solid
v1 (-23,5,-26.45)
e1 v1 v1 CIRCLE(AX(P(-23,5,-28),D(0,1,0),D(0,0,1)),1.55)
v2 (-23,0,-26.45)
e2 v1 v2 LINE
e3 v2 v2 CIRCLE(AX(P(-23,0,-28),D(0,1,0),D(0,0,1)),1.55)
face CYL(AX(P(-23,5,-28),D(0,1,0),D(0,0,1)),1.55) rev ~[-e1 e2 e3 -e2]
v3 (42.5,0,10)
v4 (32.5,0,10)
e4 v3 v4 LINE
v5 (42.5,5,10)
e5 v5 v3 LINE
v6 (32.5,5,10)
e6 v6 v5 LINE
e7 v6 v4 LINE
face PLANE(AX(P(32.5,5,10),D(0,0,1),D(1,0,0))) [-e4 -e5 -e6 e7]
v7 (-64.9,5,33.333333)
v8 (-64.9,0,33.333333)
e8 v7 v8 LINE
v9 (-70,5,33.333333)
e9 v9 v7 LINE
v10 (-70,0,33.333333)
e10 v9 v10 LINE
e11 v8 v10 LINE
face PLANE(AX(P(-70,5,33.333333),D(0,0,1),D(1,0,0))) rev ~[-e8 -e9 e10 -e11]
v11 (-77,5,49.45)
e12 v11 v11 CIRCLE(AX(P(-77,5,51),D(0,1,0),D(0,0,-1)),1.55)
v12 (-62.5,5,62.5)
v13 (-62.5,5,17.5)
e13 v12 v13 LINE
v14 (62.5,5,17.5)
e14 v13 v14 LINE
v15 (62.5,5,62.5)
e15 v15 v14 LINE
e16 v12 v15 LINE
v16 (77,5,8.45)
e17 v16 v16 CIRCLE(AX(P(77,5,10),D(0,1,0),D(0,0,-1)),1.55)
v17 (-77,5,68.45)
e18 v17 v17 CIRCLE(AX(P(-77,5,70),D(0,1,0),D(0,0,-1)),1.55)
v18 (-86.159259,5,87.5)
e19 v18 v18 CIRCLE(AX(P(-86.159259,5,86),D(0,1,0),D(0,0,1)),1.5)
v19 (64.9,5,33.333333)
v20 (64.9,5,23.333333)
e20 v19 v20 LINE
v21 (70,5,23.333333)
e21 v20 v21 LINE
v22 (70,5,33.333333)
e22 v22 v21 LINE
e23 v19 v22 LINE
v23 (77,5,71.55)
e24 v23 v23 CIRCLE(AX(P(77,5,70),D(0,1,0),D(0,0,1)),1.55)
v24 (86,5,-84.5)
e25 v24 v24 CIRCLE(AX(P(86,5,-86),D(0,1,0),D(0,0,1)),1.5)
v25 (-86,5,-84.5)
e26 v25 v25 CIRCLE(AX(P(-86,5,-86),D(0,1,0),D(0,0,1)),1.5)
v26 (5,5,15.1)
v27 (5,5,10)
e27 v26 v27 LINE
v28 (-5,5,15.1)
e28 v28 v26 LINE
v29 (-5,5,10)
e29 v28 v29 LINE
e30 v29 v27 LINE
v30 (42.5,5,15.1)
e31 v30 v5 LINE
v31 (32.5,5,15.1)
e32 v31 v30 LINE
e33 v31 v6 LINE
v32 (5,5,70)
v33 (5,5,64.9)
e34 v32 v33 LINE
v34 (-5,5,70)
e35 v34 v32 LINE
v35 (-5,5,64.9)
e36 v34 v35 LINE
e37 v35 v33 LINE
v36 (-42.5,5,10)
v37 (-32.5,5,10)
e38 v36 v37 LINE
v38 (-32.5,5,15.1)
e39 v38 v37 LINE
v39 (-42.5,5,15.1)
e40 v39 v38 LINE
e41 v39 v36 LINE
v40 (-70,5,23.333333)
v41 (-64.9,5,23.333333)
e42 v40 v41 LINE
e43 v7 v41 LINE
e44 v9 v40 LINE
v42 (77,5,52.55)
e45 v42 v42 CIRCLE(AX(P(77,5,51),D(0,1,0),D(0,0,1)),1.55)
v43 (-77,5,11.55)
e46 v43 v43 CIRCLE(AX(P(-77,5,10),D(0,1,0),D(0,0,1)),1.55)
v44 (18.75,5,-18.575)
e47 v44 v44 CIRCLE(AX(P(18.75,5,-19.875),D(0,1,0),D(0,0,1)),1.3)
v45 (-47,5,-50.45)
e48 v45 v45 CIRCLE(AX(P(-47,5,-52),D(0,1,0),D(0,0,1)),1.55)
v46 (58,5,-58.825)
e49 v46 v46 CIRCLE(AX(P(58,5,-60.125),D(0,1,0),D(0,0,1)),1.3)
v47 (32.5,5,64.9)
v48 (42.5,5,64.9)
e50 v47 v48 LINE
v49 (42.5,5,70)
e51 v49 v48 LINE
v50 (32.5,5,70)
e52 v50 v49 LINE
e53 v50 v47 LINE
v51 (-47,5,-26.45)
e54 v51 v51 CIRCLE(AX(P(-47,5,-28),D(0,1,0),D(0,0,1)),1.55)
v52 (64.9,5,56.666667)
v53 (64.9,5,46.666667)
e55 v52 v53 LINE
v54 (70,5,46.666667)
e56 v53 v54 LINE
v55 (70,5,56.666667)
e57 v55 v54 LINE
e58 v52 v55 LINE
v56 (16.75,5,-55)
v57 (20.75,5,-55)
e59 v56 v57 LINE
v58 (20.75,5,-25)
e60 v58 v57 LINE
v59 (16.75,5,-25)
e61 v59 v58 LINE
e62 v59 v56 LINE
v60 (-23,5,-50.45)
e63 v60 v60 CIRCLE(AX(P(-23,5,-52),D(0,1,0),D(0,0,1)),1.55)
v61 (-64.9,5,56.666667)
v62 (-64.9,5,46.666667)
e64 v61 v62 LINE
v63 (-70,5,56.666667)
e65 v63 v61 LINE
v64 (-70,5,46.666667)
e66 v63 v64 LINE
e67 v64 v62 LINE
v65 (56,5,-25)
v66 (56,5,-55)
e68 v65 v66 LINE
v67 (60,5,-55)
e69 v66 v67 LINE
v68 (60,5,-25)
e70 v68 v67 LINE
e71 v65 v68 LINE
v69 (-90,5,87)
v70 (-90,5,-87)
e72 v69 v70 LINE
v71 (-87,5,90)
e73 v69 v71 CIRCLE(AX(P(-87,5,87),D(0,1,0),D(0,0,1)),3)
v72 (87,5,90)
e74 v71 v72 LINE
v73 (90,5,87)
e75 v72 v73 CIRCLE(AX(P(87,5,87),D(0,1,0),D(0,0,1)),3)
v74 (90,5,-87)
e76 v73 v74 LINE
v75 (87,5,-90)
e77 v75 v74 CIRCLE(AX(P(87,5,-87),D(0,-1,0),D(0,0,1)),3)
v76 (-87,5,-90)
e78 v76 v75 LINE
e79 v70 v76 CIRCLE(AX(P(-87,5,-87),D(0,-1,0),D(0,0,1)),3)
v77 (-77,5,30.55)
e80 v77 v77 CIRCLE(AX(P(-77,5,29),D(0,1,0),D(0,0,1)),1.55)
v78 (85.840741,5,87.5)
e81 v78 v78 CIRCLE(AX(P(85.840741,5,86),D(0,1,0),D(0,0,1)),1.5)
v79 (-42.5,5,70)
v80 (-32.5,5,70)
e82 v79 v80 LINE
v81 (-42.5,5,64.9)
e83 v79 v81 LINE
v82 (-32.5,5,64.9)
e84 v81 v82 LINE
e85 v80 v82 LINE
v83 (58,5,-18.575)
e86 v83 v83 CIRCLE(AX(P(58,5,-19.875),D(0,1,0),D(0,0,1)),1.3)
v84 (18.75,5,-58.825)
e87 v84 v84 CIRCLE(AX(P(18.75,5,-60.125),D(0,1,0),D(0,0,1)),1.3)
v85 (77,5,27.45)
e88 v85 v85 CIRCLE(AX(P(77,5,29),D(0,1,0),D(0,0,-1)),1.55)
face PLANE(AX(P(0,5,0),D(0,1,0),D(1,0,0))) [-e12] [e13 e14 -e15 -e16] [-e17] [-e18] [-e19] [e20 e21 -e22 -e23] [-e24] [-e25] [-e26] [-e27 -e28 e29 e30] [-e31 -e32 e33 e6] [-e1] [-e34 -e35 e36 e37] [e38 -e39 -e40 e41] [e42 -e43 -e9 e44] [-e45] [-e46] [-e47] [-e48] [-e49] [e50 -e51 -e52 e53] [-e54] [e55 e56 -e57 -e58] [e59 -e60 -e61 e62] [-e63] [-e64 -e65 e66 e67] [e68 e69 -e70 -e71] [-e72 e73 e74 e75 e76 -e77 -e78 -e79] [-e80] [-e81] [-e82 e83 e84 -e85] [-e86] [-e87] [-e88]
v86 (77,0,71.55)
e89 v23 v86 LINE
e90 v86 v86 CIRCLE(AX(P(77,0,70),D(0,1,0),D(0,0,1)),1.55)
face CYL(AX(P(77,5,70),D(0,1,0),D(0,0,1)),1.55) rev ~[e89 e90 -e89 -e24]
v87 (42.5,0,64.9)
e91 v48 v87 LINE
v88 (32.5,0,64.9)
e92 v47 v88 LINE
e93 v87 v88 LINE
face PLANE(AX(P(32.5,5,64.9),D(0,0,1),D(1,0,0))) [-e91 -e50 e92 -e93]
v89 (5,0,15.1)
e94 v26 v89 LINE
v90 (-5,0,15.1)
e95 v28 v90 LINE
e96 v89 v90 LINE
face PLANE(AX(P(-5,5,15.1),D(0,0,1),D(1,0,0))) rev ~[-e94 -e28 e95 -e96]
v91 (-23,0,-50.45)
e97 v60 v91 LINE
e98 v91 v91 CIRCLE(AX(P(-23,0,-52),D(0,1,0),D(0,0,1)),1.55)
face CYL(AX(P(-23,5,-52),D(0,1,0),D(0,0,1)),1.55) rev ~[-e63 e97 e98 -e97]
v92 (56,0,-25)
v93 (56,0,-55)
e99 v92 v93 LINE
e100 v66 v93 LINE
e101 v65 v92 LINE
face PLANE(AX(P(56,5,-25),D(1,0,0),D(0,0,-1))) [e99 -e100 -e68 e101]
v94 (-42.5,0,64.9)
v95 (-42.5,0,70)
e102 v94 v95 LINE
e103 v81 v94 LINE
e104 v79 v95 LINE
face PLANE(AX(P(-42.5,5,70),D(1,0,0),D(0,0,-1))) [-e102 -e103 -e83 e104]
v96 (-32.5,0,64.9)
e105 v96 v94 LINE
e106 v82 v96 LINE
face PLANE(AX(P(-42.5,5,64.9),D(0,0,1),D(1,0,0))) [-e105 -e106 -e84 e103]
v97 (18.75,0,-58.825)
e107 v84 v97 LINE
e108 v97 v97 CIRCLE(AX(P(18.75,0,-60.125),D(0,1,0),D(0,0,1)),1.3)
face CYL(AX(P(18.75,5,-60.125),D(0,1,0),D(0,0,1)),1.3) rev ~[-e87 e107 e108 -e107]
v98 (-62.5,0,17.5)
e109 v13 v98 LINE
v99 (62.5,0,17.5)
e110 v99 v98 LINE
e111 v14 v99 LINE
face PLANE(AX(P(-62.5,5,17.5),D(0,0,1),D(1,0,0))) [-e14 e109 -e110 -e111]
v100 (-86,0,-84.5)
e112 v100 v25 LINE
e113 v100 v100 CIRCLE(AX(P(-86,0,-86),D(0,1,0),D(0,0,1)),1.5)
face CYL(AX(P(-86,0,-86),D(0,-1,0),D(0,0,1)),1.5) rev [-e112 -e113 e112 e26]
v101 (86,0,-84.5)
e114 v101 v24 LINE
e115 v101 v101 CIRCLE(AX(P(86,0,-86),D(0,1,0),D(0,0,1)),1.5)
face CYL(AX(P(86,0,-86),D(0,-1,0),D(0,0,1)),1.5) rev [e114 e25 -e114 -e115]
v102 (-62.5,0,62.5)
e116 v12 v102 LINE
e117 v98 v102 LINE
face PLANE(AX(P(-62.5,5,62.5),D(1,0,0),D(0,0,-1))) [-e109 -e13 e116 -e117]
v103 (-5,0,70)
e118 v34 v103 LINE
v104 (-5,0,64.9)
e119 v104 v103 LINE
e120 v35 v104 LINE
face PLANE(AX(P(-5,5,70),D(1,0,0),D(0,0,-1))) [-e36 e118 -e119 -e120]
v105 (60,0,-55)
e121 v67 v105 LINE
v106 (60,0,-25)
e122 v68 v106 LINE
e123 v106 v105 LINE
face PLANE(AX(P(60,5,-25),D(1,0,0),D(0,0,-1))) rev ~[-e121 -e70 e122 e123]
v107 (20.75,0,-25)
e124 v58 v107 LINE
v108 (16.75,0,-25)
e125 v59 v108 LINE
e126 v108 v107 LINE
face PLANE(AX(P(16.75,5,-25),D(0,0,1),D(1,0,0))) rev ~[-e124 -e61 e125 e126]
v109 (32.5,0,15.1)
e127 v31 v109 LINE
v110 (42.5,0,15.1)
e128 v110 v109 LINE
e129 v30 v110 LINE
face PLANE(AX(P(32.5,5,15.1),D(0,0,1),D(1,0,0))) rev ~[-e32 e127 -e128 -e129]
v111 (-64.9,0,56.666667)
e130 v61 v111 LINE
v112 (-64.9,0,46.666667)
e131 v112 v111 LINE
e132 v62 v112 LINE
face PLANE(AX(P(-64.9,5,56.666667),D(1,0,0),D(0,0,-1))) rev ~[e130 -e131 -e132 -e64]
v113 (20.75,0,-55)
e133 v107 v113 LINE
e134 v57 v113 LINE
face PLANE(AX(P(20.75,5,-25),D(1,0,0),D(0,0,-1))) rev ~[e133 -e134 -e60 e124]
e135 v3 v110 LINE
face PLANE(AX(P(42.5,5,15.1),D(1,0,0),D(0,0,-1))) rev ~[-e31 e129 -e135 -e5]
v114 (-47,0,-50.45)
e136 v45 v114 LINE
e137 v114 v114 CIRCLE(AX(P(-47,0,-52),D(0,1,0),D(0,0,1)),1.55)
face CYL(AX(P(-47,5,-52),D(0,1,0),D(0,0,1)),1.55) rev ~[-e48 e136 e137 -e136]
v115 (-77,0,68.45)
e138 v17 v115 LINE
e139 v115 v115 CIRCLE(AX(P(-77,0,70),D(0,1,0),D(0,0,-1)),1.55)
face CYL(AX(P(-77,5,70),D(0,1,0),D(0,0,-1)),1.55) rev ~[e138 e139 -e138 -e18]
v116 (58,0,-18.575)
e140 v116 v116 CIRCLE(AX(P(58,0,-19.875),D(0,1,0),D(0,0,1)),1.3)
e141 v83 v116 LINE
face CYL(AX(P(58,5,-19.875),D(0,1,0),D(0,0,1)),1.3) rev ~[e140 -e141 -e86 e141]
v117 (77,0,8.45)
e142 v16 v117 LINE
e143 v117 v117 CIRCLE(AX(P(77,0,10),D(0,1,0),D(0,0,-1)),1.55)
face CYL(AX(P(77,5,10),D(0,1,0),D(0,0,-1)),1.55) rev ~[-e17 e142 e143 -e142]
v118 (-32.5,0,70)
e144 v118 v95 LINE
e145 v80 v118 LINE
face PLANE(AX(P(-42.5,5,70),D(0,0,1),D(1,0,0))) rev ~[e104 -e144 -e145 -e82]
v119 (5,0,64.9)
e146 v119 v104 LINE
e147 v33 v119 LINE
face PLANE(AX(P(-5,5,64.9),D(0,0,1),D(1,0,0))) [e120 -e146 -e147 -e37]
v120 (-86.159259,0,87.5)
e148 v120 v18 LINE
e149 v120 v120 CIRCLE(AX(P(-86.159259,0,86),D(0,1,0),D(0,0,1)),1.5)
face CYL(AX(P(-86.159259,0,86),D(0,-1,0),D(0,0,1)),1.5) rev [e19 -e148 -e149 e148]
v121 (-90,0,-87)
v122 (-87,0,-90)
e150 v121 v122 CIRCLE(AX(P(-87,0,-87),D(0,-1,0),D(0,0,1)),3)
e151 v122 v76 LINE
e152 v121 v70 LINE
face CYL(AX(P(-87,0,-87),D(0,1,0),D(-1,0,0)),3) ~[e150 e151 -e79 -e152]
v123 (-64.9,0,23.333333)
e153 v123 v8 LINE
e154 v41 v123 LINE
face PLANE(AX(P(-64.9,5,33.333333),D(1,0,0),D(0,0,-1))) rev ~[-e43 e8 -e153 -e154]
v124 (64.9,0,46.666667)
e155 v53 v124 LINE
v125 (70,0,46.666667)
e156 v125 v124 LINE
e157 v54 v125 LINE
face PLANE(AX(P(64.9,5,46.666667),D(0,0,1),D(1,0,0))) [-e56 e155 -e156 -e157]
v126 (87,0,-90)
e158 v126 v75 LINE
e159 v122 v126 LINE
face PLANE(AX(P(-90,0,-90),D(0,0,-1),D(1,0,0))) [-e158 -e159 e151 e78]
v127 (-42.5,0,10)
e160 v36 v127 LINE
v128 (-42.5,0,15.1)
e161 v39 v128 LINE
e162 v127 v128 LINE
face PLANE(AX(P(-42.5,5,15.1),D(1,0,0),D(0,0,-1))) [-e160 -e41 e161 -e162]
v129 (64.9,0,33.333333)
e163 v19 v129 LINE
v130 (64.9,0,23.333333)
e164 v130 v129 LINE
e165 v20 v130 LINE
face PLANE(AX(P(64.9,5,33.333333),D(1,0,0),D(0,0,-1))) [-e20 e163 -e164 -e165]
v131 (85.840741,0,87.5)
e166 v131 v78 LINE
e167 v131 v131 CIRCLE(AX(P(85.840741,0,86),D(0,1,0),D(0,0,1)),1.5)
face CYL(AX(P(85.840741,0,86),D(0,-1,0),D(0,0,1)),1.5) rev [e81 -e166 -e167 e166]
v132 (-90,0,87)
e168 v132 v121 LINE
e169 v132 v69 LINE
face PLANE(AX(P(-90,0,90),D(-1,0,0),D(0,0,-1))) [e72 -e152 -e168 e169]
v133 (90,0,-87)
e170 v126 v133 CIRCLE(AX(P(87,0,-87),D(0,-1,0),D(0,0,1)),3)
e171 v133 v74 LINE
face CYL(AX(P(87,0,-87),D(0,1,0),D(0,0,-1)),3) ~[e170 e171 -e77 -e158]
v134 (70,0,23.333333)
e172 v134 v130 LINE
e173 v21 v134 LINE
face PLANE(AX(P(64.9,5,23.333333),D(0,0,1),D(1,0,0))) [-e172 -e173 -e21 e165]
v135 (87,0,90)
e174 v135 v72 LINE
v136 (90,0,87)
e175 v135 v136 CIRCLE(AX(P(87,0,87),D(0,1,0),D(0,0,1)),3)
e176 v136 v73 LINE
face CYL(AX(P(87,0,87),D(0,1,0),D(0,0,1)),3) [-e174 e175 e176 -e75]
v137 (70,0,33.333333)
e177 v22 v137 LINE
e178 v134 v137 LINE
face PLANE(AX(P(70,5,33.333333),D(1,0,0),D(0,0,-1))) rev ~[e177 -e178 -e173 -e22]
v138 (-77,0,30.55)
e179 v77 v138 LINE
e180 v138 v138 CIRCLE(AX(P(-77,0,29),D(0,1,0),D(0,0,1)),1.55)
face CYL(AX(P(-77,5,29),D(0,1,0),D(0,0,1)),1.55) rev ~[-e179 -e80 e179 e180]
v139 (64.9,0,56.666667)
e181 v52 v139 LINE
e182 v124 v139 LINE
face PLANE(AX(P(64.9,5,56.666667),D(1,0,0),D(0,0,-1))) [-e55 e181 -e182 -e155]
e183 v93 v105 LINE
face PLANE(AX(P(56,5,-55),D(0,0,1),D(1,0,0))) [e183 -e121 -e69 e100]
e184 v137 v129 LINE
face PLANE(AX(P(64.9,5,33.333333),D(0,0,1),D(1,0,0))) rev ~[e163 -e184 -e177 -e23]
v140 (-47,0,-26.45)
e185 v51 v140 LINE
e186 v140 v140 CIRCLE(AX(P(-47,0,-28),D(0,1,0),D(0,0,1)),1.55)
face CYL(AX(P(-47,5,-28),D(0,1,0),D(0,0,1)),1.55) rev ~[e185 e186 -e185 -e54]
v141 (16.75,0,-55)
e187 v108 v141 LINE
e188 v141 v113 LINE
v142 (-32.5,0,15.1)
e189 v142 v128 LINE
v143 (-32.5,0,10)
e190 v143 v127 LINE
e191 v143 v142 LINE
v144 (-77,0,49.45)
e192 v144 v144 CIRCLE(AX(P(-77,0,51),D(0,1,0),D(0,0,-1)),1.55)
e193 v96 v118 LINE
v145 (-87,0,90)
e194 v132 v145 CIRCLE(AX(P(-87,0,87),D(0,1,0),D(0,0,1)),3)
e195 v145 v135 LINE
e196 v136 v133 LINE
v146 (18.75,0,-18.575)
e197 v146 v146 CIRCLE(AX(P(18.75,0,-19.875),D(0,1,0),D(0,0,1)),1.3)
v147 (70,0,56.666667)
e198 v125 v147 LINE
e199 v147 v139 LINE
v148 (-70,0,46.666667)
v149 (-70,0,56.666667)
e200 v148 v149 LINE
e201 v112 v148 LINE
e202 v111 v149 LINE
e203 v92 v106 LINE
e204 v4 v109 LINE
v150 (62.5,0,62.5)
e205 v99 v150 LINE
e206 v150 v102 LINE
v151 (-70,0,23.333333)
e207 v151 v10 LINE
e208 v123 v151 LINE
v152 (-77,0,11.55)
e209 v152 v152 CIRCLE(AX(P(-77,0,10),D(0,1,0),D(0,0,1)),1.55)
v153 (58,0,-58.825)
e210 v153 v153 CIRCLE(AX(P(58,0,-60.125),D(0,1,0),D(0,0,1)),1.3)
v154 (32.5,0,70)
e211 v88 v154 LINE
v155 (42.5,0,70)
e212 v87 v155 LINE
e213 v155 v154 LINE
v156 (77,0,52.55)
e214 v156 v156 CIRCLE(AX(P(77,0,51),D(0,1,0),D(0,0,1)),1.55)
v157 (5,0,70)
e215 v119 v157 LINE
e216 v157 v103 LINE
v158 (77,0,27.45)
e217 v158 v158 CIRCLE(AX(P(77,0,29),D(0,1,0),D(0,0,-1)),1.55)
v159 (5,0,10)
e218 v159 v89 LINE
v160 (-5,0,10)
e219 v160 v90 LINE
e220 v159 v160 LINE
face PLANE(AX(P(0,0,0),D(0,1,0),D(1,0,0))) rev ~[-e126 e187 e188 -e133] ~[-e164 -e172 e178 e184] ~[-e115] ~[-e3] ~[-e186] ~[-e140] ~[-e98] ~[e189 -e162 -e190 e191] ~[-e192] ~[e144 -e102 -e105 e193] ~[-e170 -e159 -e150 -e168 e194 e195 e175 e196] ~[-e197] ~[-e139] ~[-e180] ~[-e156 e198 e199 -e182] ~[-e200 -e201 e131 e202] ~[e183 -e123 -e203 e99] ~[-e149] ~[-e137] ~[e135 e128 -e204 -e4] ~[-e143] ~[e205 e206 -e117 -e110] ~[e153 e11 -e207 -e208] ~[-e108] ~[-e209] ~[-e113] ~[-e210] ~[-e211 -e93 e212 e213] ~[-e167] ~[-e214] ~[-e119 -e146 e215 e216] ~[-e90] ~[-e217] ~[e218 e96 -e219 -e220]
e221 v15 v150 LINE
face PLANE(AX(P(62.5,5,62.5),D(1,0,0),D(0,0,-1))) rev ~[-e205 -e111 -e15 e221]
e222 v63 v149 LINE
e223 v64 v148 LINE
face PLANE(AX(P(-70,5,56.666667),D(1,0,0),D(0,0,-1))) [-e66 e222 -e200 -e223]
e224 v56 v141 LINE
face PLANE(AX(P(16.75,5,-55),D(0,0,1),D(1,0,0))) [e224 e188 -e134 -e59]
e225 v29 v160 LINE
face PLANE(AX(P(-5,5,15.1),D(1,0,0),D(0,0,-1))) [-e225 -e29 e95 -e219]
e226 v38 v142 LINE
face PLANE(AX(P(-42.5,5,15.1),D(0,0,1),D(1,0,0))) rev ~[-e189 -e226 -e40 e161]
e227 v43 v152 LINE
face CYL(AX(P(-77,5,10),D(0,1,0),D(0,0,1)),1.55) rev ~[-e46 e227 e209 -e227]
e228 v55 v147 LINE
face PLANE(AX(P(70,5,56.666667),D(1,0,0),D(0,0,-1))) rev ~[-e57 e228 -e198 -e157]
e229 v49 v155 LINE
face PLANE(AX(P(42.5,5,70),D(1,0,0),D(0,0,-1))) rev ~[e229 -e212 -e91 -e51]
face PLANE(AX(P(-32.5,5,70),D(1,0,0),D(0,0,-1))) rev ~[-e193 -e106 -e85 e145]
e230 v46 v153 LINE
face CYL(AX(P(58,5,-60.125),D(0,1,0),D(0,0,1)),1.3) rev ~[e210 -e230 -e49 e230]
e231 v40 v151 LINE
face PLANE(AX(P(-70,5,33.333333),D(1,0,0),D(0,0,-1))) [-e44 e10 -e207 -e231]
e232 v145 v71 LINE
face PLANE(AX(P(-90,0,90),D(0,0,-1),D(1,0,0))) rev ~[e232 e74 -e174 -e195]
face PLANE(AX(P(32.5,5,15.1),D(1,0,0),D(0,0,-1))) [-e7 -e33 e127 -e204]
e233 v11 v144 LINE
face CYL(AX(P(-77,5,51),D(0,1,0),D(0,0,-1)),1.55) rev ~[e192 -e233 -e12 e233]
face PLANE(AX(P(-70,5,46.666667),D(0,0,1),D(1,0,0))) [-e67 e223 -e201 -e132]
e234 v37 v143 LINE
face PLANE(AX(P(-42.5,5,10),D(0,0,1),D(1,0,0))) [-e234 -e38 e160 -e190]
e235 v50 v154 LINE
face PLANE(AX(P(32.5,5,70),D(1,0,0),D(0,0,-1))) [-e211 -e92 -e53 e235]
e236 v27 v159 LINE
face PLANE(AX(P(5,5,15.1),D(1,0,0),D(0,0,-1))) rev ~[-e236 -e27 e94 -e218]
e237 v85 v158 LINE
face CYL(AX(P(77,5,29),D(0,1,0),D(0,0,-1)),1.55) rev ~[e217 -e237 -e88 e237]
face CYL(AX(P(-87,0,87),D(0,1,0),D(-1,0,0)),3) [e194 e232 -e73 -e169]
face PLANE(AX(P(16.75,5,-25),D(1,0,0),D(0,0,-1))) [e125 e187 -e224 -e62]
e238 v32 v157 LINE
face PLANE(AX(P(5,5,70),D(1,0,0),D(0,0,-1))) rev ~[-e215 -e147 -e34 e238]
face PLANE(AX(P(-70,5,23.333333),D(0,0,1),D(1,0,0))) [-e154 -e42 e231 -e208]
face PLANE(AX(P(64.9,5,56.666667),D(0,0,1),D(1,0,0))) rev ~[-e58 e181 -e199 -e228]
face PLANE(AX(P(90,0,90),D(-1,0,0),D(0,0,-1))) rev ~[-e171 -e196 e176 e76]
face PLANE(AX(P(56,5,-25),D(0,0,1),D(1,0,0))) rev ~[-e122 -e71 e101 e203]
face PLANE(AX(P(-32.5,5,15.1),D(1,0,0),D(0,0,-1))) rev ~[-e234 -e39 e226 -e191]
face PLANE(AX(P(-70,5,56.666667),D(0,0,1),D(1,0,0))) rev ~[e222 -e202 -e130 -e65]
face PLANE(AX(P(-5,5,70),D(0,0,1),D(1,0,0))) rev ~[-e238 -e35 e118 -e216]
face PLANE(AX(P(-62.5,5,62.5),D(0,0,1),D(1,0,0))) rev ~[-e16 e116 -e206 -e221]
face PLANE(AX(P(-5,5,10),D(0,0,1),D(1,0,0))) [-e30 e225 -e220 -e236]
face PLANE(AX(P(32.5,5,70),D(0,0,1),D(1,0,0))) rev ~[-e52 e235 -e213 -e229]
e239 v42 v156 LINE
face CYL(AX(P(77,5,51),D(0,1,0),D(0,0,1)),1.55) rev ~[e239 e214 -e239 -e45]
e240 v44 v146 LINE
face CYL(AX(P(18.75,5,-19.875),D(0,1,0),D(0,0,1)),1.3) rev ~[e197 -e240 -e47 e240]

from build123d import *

# Parameters (mm, degrees)
SKETCH1_W           = 180
SKETCH1_H           = 180
SKETCH1_R           = 1.5
BOSS_EXTRUDE1_DEPTH = 5
CUT_EXTRUDE1_REACH  = 129.377
SKETCH4_W           = 5.1
SKETCH4_H           = 10
SKETCH4_W_2         = 10
SKETCH4_H_2         = 5.1
SKETCH4_W_3         = 125
SKETCH4_H_3         = 45
SKETCH5_R           = 1.55
CUT_EXTRUDE3_DEPTH  = 128.377392029
SKETCH6_W           = 4
SKETCH6_H           = 30
SKETCH6_R           = 1.3
CUT_EXTRUDE5_DEPTH  = 10
SKETCH7_R           = 1.55
CUT_EXTRUDE6_DEPTH  = 128.377392029
FILLET1_R           = 3


with BuildPart() as part:
    # Sketch1 → Boss-Extrude1 (new body)
    with BuildSketch(Plane(origin=(0, 0, 0), x_dir=(1, 0, 0), z_dir=(0, 1, 0))):
        Rectangle(SKETCH1_W, SKETCH1_H)
        with Locations(Location((-86, 86, 0), (0, 0, 270))):
            Circle(SKETCH1_R, mode=Mode.SUBTRACT)
        with Locations(Location((86, 86, 0), (0, 0, 270))):
            Circle(SKETCH1_R, mode=Mode.SUBTRACT)
        with Locations(Location((85.840740741, -86, 0), (0, 0, 270))):
            Circle(SKETCH1_R, mode=Mode.SUBTRACT)
        with Locations(Location((-86.159259259, -86, 0), (0, 0, 270))):
            Circle(SKETCH1_R, mode=Mode.SUBTRACT)
    extrude(amount=BOSS_EXTRUDE1_DEPTH)

    # Sketch4 → Cut-Extrude1 (cut, up to next)
    with BuildSketch(Plane(origin=(0, 5, 0), x_dir=(1, 0, 0), z_dir=(0, 1, 0)), mode=Mode.PRIVATE) as cut_extrude1_sk1:
        with Locations((67.45, -28.333333333)):
            Rectangle(SKETCH4_W, SKETCH4_H)
    cut_extrude1_tool1 = extrude(cut_extrude1_sk1.sketch, amount=-CUT_EXTRUDE1_REACH, mode=Mode.PRIVATE) & part.part
    # Sketch4 → Cut-Extrude1 (cut, up to next)
    with BuildSketch(Plane(origin=(0, 5, 0), x_dir=(1, 0, 0), z_dir=(0, 1, 0)), mode=Mode.PRIVATE) as cut_extrude1_sk2:
        with Locations((37.5, -12.55)):
            Rectangle(SKETCH4_W_2, SKETCH4_H_2)
    cut_extrude1_tool2 = extrude(cut_extrude1_sk2.sketch, amount=-CUT_EXTRUDE1_REACH, mode=Mode.PRIVATE) & part.part
    # Sketch4 → Cut-Extrude1 (cut, up to next)
    with BuildSketch(Plane(origin=(0, 5, 0), x_dir=(1, 0, 0), z_dir=(0, 1, 0)), mode=Mode.PRIVATE) as cut_extrude1_sk3:
        with Locations((0, -12.55)):
            Rectangle(SKETCH4_W_2, SKETCH4_H_2)
    cut_extrude1_tool3 = extrude(cut_extrude1_sk3.sketch, amount=-CUT_EXTRUDE1_REACH, mode=Mode.PRIVATE) & part.part
    # Sketch4 → Cut-Extrude1 (cut, up to next)
    with BuildSketch(Plane(origin=(0, 5, 0), x_dir=(1, 0, 0), z_dir=(0, 1, 0)), mode=Mode.PRIVATE) as cut_extrude1_sk4:
        with Locations((-37.5, -12.55)):
            Rectangle(SKETCH4_W_2, SKETCH4_H_2)
    cut_extrude1_tool4 = extrude(cut_extrude1_sk4.sketch, amount=-CUT_EXTRUDE1_REACH, mode=Mode.PRIVATE) & part.part
    # Sketch4 → Cut-Extrude1 (cut, up to next)
    with BuildSketch(Plane(origin=(0, 5, 0), x_dir=(1, 0, 0), z_dir=(0, 1, 0)), mode=Mode.PRIVATE) as cut_extrude1_sk5:
        with Locations((-67.45, -28.333333333)):
            Rectangle(SKETCH4_W, SKETCH4_H)
    cut_extrude1_tool5 = extrude(cut_extrude1_sk5.sketch, amount=-CUT_EXTRUDE1_REACH, mode=Mode.PRIVATE) & part.part
    # Sketch4 → Cut-Extrude1 (cut, up to next)
    with BuildSketch(Plane(origin=(0, 5, 0), x_dir=(1, 0, 0), z_dir=(0, 1, 0)), mode=Mode.PRIVATE) as cut_extrude1_sk6:
        with Locations((-37.5, -67.45)):
            Rectangle(SKETCH4_W_2, SKETCH4_H_2)
    cut_extrude1_tool6 = extrude(cut_extrude1_sk6.sketch, amount=-CUT_EXTRUDE1_REACH, mode=Mode.PRIVATE) & part.part
    # Sketch4 → Cut-Extrude1 (cut, up to next)
    with BuildSketch(Plane(origin=(0, 5, 0), x_dir=(1, 0, 0), z_dir=(0, 1, 0)), mode=Mode.PRIVATE) as cut_extrude1_sk7:
        with Locations((67.45, -51.666666667)):
            Rectangle(SKETCH4_W, SKETCH4_H)
    cut_extrude1_tool7 = extrude(cut_extrude1_sk7.sketch, amount=-CUT_EXTRUDE1_REACH, mode=Mode.PRIVATE) & part.part
    # Sketch4 → Cut-Extrude1 (cut, up to next)
    with BuildSketch(Plane(origin=(0, 5, 0), x_dir=(1, 0, 0), z_dir=(0, 1, 0)), mode=Mode.PRIVATE) as cut_extrude1_sk8:
        with Locations((37.5, -67.45)):
            Rectangle(SKETCH4_W_2, SKETCH4_H_2)
    cut_extrude1_tool8 = extrude(cut_extrude1_sk8.sketch, amount=-CUT_EXTRUDE1_REACH, mode=Mode.PRIVATE) & part.part
    # Sketch4 → Cut-Extrude1 (cut, up to next)
    with BuildSketch(Plane(origin=(0, 5, 0), x_dir=(1, 0, 0), z_dir=(0, 1, 0)), mode=Mode.PRIVATE) as cut_extrude1_sk9:
        with Locations((0, -67.45)):
            Rectangle(SKETCH4_W_2, SKETCH4_H_2)
    cut_extrude1_tool9 = extrude(cut_extrude1_sk9.sketch, amount=-CUT_EXTRUDE1_REACH, mode=Mode.PRIVATE) & part.part
    # Sketch4 → Cut-Extrude1 (cut, up to next)
    with BuildSketch(Plane(origin=(0, 5, 0), x_dir=(1, 0, 0), z_dir=(0, 1, 0)), mode=Mode.PRIVATE) as cut_extrude1_sk10:
        with Locations((-67.45, -51.666666667)):
            Rectangle(SKETCH4_W, SKETCH4_H)
    cut_extrude1_tool10 = extrude(cut_extrude1_sk10.sketch, amount=-CUT_EXTRUDE1_REACH, mode=Mode.PRIVATE) & part.part
    # Sketch4 → Cut-Extrude1 (cut, up to next)
    with BuildSketch(Plane(origin=(0, 5, 0), x_dir=(1, 0, 0), z_dir=(0, 1, 0)), mode=Mode.PRIVATE) as cut_extrude1_sk11:
        with Locations((0, -40)):
            Rectangle(SKETCH4_W_3, SKETCH4_H_3)
    cut_extrude1_tool11 = extrude(cut_extrude1_sk11.sketch, amount=-CUT_EXTRUDE1_REACH, mode=Mode.PRIVATE) & part.part
    add(cut_extrude1_tool1.solids().sort_by_distance((67.45, 5, 28.333333))[0], mode=Mode.SUBTRACT)
    add(cut_extrude1_tool2.solids().sort_by_distance((37.5, 5, 12.55))[0], mode=Mode.SUBTRACT)
    add(cut_extrude1_tool3.solids().sort_by_distance((0, 5, 12.55))[0], mode=Mode.SUBTRACT)
    add(cut_extrude1_tool4.solids().sort_by_distance((-37.5, 5, 12.55))[0], mode=Mode.SUBTRACT)
    add(cut_extrude1_tool5.solids().sort_by_distance((-67.45, 5, 28.333333))[0], mode=Mode.SUBTRACT)
    add(cut_extrude1_tool6.solids().sort_by_distance((-37.5, 5, 67.45))[0], mode=Mode.SUBTRACT)
    add(cut_extrude1_tool7.solids().sort_by_distance((67.45, 5, 51.666667))[0], mode=Mode.SUBTRACT)
    add(cut_extrude1_tool8.solids().sort_by_distance((37.5, 5, 67.45))[0], mode=Mode.SUBTRACT)
    add(cut_extrude1_tool9.solids().sort_by_distance((0, 5, 67.45))[0], mode=Mode.SUBTRACT)
    add(cut_extrude1_tool10.solids().sort_by_distance((-67.45, 5, 51.666667))[0], mode=Mode.SUBTRACT)
    add(cut_extrude1_tool11.solids().sort_by_distance((0, 5, 40))[0], mode=Mode.SUBTRACT)

    # Sketch5 → Cut-Extrude3 (cut, through all)
    with BuildSketch(Plane(origin=(0, 5, 0), x_dir=(1, 0, 0), z_dir=(0, 1, 0))):
        with Locations(Location((-47, 52, 0), (0, 0, 270))):
            Circle(SKETCH5_R)
        with Locations(Location((-23, 52, 0), (0, 0, 270))):
            Circle(SKETCH5_R)
        with Locations(Location((-23, 28, 0), (0, 0, 270))):
            Circle(SKETCH5_R)
        with Locations(Location((-47, 28, 0), (0, 0, 270))):
            Circle(SKETCH5_R)
    extrude(amount=-CUT_EXTRUDE3_DEPTH, mode=Mode.SUBTRACT)

    # Sketch6 → Cut-Extrude5 (cut)
    with BuildSketch(Plane(origin=(0, 5, 0), x_dir=(1, 0, 0), z_dir=(0, 1, 0))):
        with Locations((18.75, 40)):
            Rectangle(SKETCH6_W, SKETCH6_H)
        with Locations((58, 40)):
            Rectangle(SKETCH6_W, SKETCH6_H)
        with Locations(Location((58, 60.125, 0), (0, 0, 270))):
            Circle(SKETCH6_R)
        with Locations(Location((18.75, 60.125, 0), (0, 0, 270))):
            Circle(SKETCH6_R)
        with Locations(Location((18.75, 19.875, 0), (0, 0, 270))):
            Circle(SKETCH6_R)
        with Locations(Location((58, 19.875, 0), (0, 0, 270))):
            Circle(SKETCH6_R)
    extrude(amount=-CUT_EXTRUDE5_DEPTH, mode=Mode.SUBTRACT)

    # Sketch7 → Cut-Extrude6 (cut, through all)
    with BuildSketch(Plane(origin=(0, 5, 0), x_dir=(1, 0, 0), z_dir=(0, 1, 0))):
        with Locations(Location((-77, -10, 0), (0, 0, 270))):
            Circle(SKETCH7_R)
        with Locations(Location((-77, -29, 0), (0, 0, 270))):
            Circle(SKETCH7_R)
        with Locations(Location((-77, -51, 0), (0, 0, 90))):
            Circle(SKETCH7_R)
        with Locations(Location((-77, -70, 0), (0, 0, 90))):
            Circle(SKETCH7_R)
        with Locations(Location((77, -29, 0), (0, 0, 90))):
            Circle(SKETCH7_R)
        with Locations(Location((77, -10, 0), (0, 0, 90))):
            Circle(SKETCH7_R)
        with Locations(Location((77, -70, 0), (0, 0, 270))):
            Circle(SKETCH7_R)
        with Locations(Location((77, -51, 0), (0, 0, 270))):
            Circle(SKETCH7_R)
    extrude(amount=-CUT_EXTRUDE6_DEPTH, mode=Mode.SUBTRACT)

    # Fillet1
    fillet1_edges = [part.edges().sort_by_distance(p)[0] for p in [
        (-90, 2.5, 90),
        (-90, 2.5, -90),
        (90, 2.5, -90),
        (90, 2.5, 90),
    ]]
    fillet(fillet1_edges, radius=FILLET1_R)


solid = part.part
